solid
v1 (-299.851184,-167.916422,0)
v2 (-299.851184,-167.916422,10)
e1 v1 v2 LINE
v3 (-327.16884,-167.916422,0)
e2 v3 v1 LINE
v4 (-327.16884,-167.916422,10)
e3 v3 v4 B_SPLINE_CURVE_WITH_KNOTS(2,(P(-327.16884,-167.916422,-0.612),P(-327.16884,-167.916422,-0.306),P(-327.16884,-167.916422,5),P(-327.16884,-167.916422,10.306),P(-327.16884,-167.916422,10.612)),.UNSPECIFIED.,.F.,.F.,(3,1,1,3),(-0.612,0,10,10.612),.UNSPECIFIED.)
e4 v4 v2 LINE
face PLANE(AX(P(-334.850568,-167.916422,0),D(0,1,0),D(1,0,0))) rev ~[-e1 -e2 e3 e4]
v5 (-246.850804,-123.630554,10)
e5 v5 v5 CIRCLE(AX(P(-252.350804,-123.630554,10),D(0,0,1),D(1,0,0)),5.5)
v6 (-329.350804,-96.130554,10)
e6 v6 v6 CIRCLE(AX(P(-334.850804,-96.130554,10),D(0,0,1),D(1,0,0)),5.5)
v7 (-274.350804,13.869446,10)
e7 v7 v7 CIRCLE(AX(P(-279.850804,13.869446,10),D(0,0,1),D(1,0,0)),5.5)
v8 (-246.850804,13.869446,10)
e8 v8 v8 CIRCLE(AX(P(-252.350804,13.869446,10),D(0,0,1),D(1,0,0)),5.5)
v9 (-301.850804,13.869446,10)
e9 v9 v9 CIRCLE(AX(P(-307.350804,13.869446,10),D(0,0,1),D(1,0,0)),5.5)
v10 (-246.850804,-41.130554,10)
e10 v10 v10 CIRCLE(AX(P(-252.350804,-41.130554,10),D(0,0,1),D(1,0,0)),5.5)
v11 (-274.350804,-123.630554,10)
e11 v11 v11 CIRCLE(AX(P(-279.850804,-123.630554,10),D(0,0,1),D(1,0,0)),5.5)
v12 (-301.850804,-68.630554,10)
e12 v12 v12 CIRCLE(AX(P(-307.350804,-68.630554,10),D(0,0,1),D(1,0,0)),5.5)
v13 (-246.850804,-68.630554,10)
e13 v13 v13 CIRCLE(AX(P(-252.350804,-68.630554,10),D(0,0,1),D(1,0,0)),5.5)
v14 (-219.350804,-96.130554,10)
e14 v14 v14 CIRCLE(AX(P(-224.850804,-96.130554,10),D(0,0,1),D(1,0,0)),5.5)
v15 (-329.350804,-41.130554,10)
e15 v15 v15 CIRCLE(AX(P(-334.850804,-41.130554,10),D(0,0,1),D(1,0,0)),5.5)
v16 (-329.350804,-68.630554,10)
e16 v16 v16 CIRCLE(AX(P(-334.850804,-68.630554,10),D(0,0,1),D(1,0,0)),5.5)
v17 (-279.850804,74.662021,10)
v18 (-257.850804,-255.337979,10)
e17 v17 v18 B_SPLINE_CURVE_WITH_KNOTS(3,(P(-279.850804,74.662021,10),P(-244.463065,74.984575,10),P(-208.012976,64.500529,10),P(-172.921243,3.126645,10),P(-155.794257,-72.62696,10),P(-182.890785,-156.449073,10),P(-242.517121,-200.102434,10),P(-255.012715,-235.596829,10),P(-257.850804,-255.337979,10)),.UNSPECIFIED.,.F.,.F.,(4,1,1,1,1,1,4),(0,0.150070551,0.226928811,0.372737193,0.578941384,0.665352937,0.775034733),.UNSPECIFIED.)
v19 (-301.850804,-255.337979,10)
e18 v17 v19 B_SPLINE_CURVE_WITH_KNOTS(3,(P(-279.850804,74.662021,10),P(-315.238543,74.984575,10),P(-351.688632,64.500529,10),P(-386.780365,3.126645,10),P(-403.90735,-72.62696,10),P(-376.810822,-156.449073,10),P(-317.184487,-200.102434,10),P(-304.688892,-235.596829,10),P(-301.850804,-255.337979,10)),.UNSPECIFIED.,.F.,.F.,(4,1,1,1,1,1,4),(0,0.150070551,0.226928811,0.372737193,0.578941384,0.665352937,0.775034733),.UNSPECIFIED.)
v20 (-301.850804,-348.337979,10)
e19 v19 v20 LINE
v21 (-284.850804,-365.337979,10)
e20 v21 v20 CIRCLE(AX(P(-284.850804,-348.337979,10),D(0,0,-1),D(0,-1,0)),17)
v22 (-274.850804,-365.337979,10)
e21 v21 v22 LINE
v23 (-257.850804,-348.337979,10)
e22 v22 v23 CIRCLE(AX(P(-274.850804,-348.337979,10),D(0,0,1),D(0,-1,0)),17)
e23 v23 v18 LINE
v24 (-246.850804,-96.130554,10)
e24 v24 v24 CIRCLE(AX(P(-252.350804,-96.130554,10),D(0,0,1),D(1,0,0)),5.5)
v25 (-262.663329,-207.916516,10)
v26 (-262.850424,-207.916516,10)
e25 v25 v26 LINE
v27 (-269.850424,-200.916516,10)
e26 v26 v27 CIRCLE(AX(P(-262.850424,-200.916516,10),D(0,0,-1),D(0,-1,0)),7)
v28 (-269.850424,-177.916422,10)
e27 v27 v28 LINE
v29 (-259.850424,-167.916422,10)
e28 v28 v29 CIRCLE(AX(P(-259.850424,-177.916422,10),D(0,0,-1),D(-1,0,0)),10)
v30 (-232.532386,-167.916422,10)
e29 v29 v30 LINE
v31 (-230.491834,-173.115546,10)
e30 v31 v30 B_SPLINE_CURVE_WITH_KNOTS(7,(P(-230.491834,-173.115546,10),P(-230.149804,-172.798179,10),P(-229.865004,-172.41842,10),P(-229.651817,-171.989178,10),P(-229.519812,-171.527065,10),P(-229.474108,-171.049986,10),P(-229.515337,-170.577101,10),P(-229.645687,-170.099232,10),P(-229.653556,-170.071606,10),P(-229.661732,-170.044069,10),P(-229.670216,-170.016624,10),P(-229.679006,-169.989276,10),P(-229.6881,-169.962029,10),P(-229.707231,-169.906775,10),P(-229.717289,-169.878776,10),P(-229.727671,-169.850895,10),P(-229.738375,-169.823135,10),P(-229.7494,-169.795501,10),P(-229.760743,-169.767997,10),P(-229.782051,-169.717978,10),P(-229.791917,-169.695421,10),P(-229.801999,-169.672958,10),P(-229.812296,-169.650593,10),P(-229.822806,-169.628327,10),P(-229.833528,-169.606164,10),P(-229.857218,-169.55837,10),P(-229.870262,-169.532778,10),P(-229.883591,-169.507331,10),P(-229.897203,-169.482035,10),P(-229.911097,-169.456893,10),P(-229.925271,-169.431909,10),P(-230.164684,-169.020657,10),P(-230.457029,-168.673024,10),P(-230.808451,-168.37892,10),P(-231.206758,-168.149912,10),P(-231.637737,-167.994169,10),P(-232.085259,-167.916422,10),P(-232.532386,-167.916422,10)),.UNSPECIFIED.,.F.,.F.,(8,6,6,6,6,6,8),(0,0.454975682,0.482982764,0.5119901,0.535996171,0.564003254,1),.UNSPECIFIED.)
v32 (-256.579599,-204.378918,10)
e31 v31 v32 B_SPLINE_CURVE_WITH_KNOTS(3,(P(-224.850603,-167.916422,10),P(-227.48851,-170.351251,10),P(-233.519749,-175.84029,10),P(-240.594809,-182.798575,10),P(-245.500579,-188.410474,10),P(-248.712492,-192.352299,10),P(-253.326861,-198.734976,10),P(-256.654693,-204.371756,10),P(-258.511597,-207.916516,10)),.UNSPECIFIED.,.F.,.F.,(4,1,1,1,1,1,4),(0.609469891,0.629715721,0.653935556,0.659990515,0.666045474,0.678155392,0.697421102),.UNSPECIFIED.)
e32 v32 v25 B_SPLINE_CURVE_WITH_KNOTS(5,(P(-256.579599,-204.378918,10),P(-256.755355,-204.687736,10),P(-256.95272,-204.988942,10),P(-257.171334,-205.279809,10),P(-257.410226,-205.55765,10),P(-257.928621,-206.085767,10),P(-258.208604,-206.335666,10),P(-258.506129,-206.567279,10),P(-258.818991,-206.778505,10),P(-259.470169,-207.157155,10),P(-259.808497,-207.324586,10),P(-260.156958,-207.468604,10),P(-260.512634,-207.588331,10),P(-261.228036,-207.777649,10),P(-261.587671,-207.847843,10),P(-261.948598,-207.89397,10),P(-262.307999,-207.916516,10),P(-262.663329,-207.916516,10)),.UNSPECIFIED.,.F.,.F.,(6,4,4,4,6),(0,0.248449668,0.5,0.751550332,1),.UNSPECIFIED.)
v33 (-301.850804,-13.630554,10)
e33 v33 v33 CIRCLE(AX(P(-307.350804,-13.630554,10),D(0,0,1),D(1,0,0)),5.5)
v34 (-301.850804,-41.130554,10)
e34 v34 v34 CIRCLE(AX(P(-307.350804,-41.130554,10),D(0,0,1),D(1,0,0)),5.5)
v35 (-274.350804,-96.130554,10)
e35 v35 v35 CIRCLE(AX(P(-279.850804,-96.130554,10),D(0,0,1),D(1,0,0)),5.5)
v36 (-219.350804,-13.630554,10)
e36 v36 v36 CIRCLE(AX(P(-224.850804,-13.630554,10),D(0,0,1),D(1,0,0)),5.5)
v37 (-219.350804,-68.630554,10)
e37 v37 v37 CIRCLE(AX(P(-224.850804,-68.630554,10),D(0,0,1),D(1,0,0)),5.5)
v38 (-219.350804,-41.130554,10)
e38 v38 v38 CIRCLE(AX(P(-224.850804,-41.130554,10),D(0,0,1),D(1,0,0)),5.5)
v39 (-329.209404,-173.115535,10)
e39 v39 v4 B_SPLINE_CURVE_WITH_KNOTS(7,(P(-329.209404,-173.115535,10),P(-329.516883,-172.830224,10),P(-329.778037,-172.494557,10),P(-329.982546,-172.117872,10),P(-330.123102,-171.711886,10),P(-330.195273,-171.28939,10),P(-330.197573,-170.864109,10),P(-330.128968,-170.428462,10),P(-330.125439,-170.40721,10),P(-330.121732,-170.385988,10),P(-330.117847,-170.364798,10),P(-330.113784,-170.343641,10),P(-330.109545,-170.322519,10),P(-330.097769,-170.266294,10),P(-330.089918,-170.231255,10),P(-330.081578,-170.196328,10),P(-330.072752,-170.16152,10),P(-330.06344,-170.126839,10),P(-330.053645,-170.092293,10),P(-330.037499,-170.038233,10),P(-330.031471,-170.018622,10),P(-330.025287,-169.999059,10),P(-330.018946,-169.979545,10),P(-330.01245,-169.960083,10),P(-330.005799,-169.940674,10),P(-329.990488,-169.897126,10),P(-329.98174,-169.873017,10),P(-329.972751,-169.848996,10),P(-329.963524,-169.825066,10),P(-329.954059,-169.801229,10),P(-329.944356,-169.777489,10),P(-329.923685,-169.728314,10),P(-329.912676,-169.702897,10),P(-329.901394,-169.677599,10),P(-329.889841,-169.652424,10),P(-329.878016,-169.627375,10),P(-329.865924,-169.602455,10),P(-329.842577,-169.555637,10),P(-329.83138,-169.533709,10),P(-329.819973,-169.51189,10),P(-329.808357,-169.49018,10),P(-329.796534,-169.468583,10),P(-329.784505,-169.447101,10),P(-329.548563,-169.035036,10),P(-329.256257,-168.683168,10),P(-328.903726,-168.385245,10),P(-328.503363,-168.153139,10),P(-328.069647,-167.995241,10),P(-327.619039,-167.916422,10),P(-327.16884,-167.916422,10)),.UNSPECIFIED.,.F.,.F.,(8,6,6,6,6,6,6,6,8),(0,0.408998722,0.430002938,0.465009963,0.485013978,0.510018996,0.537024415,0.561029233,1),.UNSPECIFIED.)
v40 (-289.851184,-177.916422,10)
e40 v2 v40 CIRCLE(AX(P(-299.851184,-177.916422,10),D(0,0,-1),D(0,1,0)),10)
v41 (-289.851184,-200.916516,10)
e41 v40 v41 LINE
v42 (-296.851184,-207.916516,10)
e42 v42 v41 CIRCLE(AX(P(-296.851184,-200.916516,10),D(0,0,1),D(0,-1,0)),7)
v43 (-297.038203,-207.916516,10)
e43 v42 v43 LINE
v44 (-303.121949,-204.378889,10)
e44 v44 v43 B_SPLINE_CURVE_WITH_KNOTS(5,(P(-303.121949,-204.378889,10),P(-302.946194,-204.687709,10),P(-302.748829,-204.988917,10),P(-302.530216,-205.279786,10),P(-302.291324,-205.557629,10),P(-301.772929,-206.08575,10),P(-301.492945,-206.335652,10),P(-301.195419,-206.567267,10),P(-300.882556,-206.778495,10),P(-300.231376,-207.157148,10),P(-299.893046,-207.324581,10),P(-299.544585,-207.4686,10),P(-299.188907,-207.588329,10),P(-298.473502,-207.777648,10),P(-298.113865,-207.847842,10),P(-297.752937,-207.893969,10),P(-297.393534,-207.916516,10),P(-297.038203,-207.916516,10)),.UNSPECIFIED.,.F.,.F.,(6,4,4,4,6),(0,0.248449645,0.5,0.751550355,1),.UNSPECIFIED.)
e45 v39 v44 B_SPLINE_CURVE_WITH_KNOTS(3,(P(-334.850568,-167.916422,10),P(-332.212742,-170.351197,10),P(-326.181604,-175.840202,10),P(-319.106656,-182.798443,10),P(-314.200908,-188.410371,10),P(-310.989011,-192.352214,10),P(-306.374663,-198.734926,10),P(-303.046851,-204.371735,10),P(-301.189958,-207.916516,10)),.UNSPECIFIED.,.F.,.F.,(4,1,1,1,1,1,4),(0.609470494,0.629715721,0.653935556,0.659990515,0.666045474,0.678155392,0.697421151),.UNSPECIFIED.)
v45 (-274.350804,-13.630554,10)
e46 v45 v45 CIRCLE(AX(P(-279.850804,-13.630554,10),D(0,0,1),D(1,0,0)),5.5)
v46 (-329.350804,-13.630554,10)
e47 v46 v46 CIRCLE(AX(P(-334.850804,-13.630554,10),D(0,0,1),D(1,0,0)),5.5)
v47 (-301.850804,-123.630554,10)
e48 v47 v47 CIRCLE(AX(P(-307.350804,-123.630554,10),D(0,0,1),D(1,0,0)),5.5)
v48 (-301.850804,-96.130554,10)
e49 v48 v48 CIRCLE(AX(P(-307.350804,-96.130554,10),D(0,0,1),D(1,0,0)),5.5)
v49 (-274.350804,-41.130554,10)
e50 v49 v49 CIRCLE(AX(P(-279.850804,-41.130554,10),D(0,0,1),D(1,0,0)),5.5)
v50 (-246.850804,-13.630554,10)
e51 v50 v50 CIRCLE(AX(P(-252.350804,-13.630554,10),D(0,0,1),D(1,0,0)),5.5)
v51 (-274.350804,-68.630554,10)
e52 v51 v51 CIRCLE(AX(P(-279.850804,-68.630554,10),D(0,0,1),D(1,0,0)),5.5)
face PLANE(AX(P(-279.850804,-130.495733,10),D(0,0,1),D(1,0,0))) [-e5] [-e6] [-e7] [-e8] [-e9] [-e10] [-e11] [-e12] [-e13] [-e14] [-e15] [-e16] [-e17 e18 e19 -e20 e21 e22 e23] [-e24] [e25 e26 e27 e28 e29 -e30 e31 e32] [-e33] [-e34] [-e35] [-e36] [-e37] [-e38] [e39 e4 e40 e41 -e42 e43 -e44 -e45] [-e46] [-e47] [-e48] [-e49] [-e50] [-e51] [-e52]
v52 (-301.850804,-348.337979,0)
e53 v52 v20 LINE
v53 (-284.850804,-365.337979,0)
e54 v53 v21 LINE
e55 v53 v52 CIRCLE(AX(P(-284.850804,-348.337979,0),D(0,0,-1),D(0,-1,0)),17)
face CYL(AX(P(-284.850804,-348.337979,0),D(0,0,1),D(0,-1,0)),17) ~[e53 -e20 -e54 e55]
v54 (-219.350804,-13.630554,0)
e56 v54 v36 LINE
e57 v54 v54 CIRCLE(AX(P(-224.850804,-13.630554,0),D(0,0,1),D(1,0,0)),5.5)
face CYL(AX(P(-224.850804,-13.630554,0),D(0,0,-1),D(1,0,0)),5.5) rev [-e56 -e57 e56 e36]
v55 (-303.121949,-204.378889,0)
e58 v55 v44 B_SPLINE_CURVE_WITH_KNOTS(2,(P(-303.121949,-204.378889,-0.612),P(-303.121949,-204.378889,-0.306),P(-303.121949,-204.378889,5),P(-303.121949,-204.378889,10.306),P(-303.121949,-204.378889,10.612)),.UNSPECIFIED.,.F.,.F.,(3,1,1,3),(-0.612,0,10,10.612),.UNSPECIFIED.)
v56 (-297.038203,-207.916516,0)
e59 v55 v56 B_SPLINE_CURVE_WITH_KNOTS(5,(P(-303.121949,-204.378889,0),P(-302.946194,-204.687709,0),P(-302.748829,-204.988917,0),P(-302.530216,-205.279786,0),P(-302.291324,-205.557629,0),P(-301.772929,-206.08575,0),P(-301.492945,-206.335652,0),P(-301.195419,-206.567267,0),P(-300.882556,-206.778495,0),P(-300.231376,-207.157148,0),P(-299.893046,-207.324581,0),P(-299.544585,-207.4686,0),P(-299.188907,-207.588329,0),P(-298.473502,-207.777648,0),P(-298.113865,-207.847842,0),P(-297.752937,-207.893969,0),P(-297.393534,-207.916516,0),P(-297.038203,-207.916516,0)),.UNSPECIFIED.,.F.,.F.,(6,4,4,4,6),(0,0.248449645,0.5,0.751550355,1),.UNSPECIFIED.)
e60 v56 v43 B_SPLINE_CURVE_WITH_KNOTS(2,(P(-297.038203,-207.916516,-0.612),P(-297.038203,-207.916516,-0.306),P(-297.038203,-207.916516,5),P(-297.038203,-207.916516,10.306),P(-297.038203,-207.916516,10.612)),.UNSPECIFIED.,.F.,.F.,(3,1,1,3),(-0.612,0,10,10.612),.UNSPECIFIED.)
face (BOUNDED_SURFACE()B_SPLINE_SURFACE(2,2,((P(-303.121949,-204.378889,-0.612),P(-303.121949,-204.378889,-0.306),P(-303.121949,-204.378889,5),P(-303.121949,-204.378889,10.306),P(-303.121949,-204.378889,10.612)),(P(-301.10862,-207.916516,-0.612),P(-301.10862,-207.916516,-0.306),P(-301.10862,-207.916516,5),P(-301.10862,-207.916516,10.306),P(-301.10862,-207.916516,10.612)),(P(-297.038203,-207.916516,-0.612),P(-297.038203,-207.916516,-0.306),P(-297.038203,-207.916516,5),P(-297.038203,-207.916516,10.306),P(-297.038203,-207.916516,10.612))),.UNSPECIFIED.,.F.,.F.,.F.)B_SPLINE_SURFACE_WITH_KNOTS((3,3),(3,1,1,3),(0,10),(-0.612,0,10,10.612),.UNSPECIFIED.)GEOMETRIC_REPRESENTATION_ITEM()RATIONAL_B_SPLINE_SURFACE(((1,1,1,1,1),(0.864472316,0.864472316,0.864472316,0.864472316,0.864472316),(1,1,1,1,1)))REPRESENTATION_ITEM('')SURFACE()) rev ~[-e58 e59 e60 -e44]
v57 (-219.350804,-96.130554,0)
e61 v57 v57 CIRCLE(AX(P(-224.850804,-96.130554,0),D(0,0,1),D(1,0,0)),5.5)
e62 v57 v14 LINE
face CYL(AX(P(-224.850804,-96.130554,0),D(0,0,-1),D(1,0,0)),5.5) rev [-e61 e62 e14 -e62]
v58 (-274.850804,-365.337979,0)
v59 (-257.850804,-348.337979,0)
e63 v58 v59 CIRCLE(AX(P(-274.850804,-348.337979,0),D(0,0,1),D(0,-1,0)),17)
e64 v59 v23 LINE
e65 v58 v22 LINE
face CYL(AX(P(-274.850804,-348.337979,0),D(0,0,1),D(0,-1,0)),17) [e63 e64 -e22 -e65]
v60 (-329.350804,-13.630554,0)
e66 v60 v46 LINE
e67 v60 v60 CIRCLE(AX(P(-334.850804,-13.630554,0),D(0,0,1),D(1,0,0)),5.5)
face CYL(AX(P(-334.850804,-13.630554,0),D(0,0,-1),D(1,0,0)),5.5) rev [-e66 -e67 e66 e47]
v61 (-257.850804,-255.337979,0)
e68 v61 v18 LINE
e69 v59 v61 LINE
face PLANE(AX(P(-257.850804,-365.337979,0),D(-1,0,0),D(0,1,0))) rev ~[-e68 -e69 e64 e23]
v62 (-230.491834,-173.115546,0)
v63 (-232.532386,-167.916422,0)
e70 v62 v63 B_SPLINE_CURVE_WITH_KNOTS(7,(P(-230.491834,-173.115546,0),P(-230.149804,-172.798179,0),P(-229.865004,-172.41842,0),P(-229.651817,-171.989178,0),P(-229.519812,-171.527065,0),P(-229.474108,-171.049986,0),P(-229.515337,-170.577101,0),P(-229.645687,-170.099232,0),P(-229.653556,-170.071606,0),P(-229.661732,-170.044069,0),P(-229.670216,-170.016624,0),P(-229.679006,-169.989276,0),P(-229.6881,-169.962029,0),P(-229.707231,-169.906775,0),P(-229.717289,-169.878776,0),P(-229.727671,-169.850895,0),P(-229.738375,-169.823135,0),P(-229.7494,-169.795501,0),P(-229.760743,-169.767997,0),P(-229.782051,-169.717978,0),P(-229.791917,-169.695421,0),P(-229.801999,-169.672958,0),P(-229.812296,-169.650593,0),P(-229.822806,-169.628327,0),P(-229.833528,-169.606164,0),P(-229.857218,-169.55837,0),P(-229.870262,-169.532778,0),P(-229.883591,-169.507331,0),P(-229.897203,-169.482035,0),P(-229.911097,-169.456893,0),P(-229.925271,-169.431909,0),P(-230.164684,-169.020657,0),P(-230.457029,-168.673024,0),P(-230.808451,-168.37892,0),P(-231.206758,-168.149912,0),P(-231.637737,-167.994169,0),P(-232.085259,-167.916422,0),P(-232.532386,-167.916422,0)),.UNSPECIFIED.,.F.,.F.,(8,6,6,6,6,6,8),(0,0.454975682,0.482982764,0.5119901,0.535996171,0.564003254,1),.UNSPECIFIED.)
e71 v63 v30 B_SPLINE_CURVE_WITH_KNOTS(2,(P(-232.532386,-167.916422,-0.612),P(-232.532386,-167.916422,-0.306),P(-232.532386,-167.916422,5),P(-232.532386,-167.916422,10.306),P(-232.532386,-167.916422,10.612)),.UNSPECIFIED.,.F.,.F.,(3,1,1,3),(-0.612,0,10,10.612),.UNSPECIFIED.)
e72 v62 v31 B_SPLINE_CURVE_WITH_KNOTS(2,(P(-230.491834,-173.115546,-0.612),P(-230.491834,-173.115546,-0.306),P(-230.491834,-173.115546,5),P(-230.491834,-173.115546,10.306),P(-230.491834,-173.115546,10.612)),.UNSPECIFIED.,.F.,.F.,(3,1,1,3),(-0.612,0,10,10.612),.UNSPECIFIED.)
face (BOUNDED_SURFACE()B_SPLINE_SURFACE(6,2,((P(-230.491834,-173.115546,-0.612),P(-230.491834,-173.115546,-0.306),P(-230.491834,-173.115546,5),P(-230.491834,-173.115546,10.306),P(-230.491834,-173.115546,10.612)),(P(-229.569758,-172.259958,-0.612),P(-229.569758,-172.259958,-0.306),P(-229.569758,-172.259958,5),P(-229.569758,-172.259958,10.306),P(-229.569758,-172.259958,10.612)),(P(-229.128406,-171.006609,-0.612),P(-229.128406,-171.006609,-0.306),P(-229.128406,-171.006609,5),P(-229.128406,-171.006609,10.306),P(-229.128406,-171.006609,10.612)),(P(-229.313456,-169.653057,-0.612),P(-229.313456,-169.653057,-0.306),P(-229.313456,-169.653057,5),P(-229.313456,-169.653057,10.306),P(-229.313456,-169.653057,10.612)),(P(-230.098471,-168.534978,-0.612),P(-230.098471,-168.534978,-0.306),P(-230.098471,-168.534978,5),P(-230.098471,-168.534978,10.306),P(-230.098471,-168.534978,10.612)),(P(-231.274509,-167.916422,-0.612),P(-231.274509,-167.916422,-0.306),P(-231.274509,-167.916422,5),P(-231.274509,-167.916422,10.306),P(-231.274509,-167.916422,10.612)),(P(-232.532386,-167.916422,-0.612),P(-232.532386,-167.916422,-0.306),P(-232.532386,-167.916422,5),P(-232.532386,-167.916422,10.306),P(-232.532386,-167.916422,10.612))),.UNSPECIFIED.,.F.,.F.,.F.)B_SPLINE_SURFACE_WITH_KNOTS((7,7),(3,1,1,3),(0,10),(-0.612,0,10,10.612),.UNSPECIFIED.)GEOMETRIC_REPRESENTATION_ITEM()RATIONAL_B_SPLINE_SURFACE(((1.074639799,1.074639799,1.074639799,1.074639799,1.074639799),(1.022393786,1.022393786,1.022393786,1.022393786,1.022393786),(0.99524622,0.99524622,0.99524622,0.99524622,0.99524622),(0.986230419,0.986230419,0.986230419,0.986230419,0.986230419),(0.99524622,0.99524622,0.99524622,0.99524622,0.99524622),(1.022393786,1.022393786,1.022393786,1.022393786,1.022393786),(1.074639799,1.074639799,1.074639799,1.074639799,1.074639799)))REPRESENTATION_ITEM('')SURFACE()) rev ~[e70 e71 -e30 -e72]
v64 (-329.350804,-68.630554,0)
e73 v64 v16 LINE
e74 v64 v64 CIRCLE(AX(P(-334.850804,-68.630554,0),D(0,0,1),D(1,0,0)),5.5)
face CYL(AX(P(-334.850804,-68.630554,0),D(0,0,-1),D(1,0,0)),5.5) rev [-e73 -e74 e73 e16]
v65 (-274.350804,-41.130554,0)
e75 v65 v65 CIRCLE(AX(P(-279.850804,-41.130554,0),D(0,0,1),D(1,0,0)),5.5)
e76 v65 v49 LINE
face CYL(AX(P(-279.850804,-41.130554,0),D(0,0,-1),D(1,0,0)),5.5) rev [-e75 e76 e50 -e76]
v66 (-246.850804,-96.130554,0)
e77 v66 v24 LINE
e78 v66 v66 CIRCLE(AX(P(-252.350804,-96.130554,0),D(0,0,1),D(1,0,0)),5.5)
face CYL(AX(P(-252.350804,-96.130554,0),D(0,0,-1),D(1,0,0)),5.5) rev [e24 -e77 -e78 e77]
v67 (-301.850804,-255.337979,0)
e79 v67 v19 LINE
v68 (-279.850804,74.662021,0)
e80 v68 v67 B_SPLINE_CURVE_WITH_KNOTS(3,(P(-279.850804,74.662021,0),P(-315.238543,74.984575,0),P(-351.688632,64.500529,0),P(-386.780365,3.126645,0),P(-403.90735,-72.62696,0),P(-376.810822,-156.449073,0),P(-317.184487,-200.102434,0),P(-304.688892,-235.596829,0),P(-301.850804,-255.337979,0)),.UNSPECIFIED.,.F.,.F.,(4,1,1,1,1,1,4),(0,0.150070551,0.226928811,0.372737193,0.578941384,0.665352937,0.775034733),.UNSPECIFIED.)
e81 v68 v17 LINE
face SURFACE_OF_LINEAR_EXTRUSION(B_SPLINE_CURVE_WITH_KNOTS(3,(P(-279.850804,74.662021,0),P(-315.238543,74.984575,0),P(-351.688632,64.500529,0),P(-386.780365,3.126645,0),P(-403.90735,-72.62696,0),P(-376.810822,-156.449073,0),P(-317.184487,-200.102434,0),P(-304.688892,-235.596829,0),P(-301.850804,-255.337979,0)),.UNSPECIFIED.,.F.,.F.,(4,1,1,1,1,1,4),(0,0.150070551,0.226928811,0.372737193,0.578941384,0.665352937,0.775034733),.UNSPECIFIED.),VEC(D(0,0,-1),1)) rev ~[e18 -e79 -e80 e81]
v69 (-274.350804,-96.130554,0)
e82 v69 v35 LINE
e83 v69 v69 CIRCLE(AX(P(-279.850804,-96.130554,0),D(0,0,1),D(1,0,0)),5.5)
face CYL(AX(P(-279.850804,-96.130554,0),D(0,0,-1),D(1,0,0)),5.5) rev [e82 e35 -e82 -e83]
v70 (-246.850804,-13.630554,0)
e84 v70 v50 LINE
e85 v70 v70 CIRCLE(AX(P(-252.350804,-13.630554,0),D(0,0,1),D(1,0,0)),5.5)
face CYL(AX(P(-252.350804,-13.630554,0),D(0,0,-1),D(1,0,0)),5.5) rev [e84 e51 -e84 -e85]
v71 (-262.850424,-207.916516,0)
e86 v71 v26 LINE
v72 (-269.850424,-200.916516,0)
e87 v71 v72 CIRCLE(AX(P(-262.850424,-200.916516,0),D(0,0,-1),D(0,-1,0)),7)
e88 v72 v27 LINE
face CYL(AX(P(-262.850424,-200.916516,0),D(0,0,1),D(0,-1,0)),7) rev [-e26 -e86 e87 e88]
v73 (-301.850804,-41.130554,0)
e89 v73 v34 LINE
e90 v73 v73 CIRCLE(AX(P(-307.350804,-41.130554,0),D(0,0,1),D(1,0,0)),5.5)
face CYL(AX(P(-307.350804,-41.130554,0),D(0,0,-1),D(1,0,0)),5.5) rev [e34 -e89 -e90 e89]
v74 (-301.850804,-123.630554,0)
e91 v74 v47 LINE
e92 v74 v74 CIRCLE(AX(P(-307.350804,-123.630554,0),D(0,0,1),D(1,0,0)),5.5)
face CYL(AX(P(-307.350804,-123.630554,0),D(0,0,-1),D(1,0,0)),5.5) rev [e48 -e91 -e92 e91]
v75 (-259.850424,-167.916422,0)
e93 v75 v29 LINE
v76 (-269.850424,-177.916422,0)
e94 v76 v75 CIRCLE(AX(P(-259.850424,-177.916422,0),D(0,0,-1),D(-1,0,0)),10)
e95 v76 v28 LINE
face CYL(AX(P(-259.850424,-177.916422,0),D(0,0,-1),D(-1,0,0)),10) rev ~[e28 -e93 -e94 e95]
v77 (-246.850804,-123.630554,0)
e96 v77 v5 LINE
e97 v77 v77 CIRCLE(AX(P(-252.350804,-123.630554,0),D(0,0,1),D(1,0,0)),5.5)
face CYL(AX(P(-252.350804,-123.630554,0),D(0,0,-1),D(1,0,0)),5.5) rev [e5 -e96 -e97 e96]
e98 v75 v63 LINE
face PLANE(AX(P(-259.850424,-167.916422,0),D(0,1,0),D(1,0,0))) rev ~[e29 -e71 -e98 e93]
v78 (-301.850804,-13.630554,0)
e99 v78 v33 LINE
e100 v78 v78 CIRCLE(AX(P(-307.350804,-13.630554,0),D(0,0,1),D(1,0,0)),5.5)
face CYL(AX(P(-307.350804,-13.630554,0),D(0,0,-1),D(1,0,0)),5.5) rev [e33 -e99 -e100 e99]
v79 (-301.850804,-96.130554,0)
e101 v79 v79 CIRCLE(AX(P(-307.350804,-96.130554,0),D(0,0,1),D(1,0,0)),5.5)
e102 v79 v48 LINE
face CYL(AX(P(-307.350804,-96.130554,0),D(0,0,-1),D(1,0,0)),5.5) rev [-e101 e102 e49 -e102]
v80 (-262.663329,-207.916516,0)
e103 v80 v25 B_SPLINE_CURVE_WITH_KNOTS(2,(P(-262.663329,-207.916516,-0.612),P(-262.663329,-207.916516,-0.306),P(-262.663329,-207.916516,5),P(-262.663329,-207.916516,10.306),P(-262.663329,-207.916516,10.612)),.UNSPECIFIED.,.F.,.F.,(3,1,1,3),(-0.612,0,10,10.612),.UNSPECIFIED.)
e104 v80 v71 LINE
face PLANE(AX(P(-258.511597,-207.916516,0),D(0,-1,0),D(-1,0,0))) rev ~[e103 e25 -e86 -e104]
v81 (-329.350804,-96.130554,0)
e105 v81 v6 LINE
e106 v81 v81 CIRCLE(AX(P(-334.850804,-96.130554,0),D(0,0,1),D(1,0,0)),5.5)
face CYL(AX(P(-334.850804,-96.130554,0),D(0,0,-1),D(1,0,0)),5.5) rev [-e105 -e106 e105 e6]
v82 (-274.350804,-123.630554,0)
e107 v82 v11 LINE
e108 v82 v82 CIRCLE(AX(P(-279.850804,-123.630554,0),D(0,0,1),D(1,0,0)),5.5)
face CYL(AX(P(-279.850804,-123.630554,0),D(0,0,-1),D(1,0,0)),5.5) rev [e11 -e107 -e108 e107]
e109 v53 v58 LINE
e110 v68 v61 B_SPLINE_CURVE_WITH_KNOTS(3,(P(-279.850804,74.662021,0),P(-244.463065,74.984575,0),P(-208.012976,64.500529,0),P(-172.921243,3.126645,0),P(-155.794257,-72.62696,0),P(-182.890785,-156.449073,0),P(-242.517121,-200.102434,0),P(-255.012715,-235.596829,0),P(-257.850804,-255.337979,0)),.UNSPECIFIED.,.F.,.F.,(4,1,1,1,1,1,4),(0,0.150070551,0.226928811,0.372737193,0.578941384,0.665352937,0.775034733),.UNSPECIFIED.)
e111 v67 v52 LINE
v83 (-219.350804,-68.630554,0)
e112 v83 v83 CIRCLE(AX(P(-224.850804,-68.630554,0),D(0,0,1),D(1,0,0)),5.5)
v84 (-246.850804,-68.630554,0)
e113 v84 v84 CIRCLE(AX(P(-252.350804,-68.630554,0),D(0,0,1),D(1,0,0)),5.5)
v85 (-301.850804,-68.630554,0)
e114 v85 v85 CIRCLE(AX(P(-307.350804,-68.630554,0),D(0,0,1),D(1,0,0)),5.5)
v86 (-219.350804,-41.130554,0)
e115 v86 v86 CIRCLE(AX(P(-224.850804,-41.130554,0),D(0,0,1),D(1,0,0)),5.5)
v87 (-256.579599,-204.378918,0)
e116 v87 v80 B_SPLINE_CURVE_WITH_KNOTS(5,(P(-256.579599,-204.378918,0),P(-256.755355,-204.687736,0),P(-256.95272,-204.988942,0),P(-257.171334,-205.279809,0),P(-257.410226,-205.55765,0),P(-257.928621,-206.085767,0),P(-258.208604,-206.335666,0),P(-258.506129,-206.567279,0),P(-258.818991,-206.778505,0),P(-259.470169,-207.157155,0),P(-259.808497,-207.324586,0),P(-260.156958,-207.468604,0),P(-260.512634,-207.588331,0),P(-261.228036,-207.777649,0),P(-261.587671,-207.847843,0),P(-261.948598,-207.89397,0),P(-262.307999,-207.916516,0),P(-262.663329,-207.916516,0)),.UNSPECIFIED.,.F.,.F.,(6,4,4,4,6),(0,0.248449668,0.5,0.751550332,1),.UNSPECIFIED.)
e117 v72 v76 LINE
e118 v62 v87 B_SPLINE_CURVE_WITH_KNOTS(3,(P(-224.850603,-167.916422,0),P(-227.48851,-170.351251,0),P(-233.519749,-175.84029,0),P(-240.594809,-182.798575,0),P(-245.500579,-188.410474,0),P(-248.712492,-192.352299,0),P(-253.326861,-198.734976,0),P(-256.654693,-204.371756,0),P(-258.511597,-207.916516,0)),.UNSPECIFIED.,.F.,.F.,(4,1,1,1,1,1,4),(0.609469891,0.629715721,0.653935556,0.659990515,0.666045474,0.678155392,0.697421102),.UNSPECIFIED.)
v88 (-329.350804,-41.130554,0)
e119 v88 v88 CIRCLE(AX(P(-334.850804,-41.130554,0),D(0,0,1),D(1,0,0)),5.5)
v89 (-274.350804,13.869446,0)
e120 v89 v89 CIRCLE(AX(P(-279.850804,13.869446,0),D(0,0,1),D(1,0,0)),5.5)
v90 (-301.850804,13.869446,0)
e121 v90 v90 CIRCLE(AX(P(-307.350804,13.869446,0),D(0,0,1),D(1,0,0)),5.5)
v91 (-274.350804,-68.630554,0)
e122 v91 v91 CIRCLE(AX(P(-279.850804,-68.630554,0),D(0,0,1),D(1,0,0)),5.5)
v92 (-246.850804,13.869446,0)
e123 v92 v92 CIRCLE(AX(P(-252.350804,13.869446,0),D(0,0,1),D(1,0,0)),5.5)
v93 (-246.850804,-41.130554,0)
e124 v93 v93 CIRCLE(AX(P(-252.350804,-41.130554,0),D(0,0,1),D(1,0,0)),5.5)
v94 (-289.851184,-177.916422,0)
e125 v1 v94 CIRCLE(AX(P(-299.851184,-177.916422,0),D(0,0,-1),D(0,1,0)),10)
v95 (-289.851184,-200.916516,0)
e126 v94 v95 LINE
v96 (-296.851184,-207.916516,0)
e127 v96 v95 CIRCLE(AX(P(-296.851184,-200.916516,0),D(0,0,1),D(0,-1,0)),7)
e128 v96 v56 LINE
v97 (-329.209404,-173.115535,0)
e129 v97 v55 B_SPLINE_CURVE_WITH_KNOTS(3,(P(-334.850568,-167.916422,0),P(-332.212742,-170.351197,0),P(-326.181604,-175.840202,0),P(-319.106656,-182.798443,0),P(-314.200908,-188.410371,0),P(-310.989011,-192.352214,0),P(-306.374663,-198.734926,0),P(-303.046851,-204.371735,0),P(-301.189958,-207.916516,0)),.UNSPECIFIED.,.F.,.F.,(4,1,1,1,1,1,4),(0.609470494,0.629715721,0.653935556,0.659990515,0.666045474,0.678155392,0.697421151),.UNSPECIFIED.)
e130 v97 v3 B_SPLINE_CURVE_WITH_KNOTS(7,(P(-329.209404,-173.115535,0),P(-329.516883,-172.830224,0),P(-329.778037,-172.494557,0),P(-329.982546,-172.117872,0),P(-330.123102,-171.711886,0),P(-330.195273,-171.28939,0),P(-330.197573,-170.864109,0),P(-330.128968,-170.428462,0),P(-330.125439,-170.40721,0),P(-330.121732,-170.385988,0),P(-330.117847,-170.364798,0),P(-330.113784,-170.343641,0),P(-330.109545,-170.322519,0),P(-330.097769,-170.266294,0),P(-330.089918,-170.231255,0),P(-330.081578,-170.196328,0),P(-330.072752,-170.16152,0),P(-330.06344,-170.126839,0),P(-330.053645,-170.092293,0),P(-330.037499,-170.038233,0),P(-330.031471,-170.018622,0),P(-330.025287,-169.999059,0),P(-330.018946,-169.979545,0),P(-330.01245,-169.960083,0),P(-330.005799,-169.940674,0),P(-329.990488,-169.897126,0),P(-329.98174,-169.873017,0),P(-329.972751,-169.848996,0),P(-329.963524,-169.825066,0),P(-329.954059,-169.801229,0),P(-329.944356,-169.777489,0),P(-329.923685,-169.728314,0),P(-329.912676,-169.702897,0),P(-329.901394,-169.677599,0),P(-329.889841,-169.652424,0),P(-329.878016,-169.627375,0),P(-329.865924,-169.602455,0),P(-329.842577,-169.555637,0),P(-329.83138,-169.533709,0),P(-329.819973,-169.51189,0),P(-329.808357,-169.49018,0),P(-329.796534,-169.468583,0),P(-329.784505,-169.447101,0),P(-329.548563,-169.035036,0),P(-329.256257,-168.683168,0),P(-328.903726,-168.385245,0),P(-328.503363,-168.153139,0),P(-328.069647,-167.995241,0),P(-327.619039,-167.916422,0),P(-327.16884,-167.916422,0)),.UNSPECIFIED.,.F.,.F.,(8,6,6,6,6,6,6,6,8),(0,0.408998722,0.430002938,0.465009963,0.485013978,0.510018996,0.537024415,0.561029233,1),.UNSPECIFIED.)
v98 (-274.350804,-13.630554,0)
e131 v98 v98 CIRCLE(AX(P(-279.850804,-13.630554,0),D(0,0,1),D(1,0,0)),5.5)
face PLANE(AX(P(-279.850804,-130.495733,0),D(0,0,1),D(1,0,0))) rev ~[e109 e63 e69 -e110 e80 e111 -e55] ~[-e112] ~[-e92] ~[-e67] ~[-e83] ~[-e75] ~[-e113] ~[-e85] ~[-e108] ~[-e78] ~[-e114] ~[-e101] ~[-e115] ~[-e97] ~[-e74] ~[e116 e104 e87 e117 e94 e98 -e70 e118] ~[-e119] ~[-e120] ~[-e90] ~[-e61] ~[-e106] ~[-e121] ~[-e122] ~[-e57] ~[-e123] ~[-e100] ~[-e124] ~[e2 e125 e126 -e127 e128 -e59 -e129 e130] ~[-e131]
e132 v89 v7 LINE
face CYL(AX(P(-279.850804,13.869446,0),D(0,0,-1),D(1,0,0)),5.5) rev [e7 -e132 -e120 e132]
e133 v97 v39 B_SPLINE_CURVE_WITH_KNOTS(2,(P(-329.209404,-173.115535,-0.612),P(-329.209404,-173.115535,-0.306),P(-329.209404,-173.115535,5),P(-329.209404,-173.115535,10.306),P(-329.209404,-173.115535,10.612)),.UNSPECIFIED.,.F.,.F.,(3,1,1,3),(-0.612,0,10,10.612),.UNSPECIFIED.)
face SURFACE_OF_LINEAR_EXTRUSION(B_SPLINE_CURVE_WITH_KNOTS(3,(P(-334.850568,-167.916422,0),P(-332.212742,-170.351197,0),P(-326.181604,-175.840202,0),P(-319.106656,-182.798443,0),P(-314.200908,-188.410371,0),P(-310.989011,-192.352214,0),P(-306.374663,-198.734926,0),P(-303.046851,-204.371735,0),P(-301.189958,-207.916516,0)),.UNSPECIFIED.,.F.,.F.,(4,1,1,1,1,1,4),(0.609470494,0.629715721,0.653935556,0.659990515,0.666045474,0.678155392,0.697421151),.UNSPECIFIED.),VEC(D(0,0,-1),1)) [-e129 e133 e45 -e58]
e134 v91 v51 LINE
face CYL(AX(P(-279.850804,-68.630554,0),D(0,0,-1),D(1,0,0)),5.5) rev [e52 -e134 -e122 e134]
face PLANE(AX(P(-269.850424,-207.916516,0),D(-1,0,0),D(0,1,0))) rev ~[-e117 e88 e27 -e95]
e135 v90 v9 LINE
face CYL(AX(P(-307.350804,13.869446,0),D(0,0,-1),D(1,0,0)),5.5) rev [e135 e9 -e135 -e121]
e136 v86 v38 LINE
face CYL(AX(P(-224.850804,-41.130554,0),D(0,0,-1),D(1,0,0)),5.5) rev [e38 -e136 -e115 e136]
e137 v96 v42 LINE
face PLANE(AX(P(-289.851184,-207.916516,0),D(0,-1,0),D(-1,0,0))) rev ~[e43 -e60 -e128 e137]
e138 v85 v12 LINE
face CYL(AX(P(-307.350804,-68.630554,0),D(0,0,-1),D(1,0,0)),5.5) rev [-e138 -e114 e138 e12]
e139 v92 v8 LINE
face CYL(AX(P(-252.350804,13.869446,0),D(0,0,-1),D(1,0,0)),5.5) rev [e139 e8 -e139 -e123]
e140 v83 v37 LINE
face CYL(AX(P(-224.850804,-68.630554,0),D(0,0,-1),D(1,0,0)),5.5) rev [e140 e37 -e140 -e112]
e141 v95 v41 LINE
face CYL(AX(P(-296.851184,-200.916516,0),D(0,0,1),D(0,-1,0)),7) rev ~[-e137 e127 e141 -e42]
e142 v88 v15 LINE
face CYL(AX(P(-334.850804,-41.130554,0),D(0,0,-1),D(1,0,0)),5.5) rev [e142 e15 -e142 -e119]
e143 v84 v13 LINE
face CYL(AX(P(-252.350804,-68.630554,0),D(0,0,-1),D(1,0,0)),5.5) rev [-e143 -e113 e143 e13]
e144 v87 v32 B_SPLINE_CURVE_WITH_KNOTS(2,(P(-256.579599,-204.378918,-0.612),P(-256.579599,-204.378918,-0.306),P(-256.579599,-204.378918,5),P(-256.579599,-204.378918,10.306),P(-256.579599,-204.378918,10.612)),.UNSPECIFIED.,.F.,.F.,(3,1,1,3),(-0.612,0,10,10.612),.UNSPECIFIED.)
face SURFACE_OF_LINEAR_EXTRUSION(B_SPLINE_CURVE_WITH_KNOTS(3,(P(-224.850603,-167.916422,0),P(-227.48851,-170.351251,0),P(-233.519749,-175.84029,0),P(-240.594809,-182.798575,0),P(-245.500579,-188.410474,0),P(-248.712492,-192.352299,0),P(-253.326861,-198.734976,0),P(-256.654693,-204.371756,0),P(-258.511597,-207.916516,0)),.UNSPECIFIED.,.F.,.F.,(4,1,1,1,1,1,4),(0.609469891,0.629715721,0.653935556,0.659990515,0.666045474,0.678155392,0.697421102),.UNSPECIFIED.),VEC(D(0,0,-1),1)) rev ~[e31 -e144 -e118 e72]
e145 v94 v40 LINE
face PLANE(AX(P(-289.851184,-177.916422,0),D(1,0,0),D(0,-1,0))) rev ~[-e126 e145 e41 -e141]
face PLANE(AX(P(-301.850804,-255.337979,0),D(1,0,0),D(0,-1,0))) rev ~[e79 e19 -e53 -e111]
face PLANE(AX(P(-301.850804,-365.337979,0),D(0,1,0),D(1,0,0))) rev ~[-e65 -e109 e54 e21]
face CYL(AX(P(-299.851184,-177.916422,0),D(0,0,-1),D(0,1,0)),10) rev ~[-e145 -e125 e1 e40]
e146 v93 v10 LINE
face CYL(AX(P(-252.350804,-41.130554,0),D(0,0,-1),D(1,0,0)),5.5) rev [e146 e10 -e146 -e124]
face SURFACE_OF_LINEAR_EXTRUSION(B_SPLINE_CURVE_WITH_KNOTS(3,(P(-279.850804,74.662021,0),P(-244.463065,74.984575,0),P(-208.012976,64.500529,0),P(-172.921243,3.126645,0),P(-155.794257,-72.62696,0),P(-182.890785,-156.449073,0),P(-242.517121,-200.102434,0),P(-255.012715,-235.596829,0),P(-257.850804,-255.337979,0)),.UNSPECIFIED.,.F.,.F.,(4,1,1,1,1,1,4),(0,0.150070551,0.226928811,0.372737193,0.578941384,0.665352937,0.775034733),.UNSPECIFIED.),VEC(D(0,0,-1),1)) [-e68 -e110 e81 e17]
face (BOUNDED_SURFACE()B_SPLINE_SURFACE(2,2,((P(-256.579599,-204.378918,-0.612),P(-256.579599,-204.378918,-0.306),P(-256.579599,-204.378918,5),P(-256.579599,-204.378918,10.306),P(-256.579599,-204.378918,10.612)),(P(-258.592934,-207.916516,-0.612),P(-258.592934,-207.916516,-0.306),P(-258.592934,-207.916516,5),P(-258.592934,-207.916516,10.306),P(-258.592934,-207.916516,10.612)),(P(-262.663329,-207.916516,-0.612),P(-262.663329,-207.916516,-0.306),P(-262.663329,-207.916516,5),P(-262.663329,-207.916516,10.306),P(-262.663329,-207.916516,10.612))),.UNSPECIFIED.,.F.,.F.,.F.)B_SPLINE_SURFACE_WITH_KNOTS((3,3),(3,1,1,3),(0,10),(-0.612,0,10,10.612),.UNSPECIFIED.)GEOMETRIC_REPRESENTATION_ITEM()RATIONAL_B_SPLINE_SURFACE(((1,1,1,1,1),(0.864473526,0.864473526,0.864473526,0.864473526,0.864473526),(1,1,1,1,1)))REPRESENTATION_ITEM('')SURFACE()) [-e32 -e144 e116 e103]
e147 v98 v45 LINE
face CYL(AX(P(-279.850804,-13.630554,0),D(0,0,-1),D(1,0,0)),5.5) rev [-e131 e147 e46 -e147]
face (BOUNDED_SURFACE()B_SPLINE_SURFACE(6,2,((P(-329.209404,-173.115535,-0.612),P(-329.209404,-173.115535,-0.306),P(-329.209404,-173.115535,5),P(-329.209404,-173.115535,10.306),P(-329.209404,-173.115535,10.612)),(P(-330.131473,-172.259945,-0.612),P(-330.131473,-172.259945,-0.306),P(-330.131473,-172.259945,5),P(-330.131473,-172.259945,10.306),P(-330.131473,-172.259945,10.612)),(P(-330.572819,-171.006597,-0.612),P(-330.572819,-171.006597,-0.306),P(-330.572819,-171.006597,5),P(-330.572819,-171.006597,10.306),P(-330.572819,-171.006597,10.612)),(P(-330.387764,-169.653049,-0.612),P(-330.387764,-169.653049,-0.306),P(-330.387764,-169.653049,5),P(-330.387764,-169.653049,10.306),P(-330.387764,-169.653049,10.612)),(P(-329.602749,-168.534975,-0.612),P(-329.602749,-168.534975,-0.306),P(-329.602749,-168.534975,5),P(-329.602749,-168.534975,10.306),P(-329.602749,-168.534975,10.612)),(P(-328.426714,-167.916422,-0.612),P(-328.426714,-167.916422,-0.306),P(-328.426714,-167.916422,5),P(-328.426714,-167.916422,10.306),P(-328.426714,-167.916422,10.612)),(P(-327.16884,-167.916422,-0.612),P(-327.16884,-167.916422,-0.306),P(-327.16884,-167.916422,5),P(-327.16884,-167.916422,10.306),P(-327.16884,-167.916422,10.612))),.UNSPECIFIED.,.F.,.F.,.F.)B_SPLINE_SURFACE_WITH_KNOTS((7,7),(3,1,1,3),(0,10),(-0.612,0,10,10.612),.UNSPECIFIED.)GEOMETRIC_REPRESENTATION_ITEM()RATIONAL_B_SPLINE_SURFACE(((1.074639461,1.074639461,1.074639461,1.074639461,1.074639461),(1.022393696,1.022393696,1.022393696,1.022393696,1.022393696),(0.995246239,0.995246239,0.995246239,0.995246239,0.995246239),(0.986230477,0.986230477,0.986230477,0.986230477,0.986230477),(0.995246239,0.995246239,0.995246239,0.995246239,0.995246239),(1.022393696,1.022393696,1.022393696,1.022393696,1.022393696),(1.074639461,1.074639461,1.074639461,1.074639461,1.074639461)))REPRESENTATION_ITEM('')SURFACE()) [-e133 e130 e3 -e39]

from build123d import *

# Parameters (mm, degrees)
SCHIZZO4_R                   = 5.5
ESTRUSIONE_ESTRUSIONE3_DEPTH = 10
RACCORDO3_R                  = 17
RACCORDO4_R                  = 3
RACCORDO5_R                  = 7


with BuildPart() as part:
    # Schizzo4 → Estrusione-Estrusione3 (new body)
    with BuildSketch(Plane.XY):
        with BuildLine():
            Line((-301.85080377, -365.337978803), (-279.85080377, -365.337978803))
            Line((-279.85080377, -365.337978803), (-257.85080377, -365.337978803))
            Line((-257.85080377, -365.337978803), (-257.85080377, -255.337978803))
            add(Edge.make_bspline(
                [(-279.85080377, 74.662021197), (-244.463064548, 74.984575014), (-208.012975737, 64.500528794), (-172.921242543, 3.126644824), (-155.794257428, -72.626959868), (-182.890785149, -156.449073323), (-242.517120863, -200.102433974), (-255.012715109, -235.596828616), (-257.85080377, -255.337978803)],
                knots=[0, 0, 0, 0, 0.150070551, 0.226928811, 0.372737193, 0.578941384, 0.665352937, 0.775034733, 0.775034733, 0.775034733, 0.775034733], degree=3))
            add(Edge.make_bspline(
                [(-279.85080377, 74.662021197), (-315.238542992, 74.984575014), (-351.688631803, 64.500528794), (-386.780364997, 3.126644824), (-403.907350111, -72.626959868), (-376.81082239, -156.449073323), (-317.184486676, -200.102433974), (-304.688892431, -235.596828616), (-301.85080377, -255.337978803)],
                knots=[0, 0, 0, 0, 0.150070551, 0.226928811, 0.372737193, 0.578941384, 0.665352937, 0.775034733, 0.775034733, 0.775034733, 0.775034733], degree=3))
            Line((-301.85080377, -255.337978803), (-301.85080377, -365.337978803))
        make_face()
        with BuildLine():
            add(Edge.make_bspline(
                [(-334.850568316, -167.916421674), (-332.212742465, -170.351196912), (-326.181603526, -175.840202357), (-319.106655667, -182.798443347), (-314.200907698, -188.410370573), (-310.989011306, -192.35221397), (-306.374662828, -198.734925607), (-303.046850668, -204.371734555), (-301.189958022, -207.91651557)],
                knots=[0.609470494, 0.609470494, 0.609470494, 0.609470494, 0.629715721, 0.653935556, 0.659990515, 0.666045474, 0.678155392, 0.697421151, 0.697421151, 0.697421151, 0.697421151], degree=3))
            Line((-334.850568316, -167.916421674), (-299.851183672, -167.916421674))
            ThreePointArc((-299.851183672, -167.916421674), (-292.78011586, -170.845353862), (-289.851183672, -177.916421674))
            Line((-289.851183672, -177.916421674), (-289.851183672, -207.91651557))
            Line((-289.851183672, -207.91651557), (-301.189958022, -207.91651557))
        make_face(mode=Mode.SUBTRACT)
        with BuildLine():
            Line((-258.511596707, -207.91651557), (-269.850423867, -207.91651557))
            Line((-269.850423867, -207.91651557), (-269.850423867, -177.916421674))
            ThreePointArc((-269.850423867, -177.916421674), (-266.921491679, -170.845353862), (-259.850423867, -167.916421674))
            Line((-259.850423867, -167.916421674), (-224.850603084, -167.916421674))
            add(Edge.make_bspline(
                [(-224.850603084, -167.916421674), (-227.488510386, -170.351251168), (-233.519749496, -175.840289589), (-240.594808933, -182.798574685), (-245.500579478, -188.410474331), (-248.712491912, -192.352299459), (-253.326860813, -198.734975954), (-256.654692578, -204.371755527), (-258.511596707, -207.91651557)],
                knots=[0.609469891, 0.609469891, 0.609469891, 0.609469891, 0.629715721, 0.653935556, 0.659990515, 0.666045474, 0.678155392, 0.697421102, 0.697421102, 0.697421102, 0.697421102], degree=3))
        make_face(mode=Mode.SUBTRACT)
        with Locations((-334.85080377, -96.130554038)):
            Circle(SCHIZZO4_R, mode=Mode.SUBTRACT)
        with Locations((-307.35080377, -123.630554038)):
            Circle(SCHIZZO4_R, mode=Mode.SUBTRACT)
        with Locations((-307.35080377, -96.130554038)):
            Circle(SCHIZZO4_R, mode=Mode.SUBTRACT)
        with Locations((-334.85080377, -68.630554038)):
            Circle(SCHIZZO4_R, mode=Mode.SUBTRACT)
        with Locations((-334.85080377, -41.130554038)):
            Circle(SCHIZZO4_R, mode=Mode.SUBTRACT)
        with Locations((-307.35080377, -68.630554038)):
            Circle(SCHIZZO4_R, mode=Mode.SUBTRACT)
        with Locations((-307.35080377, -41.130554038)):
            Circle(SCHIZZO4_R, mode=Mode.SUBTRACT)
        with Locations((-279.85080377, -41.130554038)):
            Circle(SCHIZZO4_R, mode=Mode.SUBTRACT)
        with Locations((-334.85080377, -13.630554038)):
            Circle(SCHIZZO4_R, mode=Mode.SUBTRACT)
        with Locations((-307.35080377, -13.630554038)):
            Circle(SCHIZZO4_R, mode=Mode.SUBTRACT)
        with Locations((-279.85080377, -13.630554038)):
            Circle(SCHIZZO4_R, mode=Mode.SUBTRACT)
        with Locations((-307.35080377, 13.869445962)):
            Circle(SCHIZZO4_R, mode=Mode.SUBTRACT)
        with Locations((-279.85080377, 13.869445962)):
            Circle(SCHIZZO4_R, mode=Mode.SUBTRACT)
        with Locations((-279.85080377, -123.630554038)):
            Circle(SCHIZZO4_R, mode=Mode.SUBTRACT)
        with Locations((-252.35080377, -123.630554038)):
            Circle(SCHIZZO4_R, mode=Mode.SUBTRACT)
        with Locations((-279.85080377, -96.130554038)):
            Circle(SCHIZZO4_R, mode=Mode.SUBTRACT)
        with Locations((-252.35080377, -96.130554038)):
            Circle(SCHIZZO4_R, mode=Mode.SUBTRACT)
        with Locations((-224.85080377, -96.130554038)):
            Circle(SCHIZZO4_R, mode=Mode.SUBTRACT)
        with Locations((-279.85080377, -68.630554038)):
            Circle(SCHIZZO4_R, mode=Mode.SUBTRACT)
        with Locations((-252.35080377, -68.630554038)):
            Circle(SCHIZZO4_R, mode=Mode.SUBTRACT)
        with Locations((-252.35080377, -41.130554038)):
            Circle(SCHIZZO4_R, mode=Mode.SUBTRACT)
        with Locations((-224.85080377, -68.630554038)):
            Circle(SCHIZZO4_R, mode=Mode.SUBTRACT)
        with Locations((-224.85080377, -41.130554038)):
            Circle(SCHIZZO4_R, mode=Mode.SUBTRACT)
        with Locations((-252.35080377, -13.630554038)):
            Circle(SCHIZZO4_R, mode=Mode.SUBTRACT)
        with Locations((-252.35080377, 13.869445962)):
            Circle(SCHIZZO4_R, mode=Mode.SUBTRACT)
        with Locations((-224.85080377, -13.630554038)):
            Circle(SCHIZZO4_R, mode=Mode.SUBTRACT)
    extrude(amount=ESTRUSIONE_ESTRUSIONE3_DEPTH)

    # Raccordo3
    raccordo3_edges = [part.edges().sort_by_distance(p)[0] for p in [
        (-257.85080377, -365.337978803, 5),
        (-301.85080377, -365.337978803, 5),
    ]]
    fillet(raccordo3_edges, radius=RACCORDO3_R)

    # Raccordo4
    raccordo4_edges = [part.edges().sort_by_distance(p)[0] for p in [
        (-334.850568316, -167.916421674, 5),
        (-224.850603084, -167.916421674, 5),
    ]]
    fillet(raccordo4_edges, radius=RACCORDO4_R)

    # Raccordo5
    raccordo5_edges = [part.edges().sort_by_distance(p)[0] for p in [
        (-269.850423867, -207.91651557, 5),
        (-258.511596707, -207.91651557, 5),
        (-301.189958022, -207.91651557, 5),
        (-289.851183672, -207.91651557, 5),
    ]]
    fillet(raccordo5_edges, radius=RACCORDO5_R)


solid = part.part
